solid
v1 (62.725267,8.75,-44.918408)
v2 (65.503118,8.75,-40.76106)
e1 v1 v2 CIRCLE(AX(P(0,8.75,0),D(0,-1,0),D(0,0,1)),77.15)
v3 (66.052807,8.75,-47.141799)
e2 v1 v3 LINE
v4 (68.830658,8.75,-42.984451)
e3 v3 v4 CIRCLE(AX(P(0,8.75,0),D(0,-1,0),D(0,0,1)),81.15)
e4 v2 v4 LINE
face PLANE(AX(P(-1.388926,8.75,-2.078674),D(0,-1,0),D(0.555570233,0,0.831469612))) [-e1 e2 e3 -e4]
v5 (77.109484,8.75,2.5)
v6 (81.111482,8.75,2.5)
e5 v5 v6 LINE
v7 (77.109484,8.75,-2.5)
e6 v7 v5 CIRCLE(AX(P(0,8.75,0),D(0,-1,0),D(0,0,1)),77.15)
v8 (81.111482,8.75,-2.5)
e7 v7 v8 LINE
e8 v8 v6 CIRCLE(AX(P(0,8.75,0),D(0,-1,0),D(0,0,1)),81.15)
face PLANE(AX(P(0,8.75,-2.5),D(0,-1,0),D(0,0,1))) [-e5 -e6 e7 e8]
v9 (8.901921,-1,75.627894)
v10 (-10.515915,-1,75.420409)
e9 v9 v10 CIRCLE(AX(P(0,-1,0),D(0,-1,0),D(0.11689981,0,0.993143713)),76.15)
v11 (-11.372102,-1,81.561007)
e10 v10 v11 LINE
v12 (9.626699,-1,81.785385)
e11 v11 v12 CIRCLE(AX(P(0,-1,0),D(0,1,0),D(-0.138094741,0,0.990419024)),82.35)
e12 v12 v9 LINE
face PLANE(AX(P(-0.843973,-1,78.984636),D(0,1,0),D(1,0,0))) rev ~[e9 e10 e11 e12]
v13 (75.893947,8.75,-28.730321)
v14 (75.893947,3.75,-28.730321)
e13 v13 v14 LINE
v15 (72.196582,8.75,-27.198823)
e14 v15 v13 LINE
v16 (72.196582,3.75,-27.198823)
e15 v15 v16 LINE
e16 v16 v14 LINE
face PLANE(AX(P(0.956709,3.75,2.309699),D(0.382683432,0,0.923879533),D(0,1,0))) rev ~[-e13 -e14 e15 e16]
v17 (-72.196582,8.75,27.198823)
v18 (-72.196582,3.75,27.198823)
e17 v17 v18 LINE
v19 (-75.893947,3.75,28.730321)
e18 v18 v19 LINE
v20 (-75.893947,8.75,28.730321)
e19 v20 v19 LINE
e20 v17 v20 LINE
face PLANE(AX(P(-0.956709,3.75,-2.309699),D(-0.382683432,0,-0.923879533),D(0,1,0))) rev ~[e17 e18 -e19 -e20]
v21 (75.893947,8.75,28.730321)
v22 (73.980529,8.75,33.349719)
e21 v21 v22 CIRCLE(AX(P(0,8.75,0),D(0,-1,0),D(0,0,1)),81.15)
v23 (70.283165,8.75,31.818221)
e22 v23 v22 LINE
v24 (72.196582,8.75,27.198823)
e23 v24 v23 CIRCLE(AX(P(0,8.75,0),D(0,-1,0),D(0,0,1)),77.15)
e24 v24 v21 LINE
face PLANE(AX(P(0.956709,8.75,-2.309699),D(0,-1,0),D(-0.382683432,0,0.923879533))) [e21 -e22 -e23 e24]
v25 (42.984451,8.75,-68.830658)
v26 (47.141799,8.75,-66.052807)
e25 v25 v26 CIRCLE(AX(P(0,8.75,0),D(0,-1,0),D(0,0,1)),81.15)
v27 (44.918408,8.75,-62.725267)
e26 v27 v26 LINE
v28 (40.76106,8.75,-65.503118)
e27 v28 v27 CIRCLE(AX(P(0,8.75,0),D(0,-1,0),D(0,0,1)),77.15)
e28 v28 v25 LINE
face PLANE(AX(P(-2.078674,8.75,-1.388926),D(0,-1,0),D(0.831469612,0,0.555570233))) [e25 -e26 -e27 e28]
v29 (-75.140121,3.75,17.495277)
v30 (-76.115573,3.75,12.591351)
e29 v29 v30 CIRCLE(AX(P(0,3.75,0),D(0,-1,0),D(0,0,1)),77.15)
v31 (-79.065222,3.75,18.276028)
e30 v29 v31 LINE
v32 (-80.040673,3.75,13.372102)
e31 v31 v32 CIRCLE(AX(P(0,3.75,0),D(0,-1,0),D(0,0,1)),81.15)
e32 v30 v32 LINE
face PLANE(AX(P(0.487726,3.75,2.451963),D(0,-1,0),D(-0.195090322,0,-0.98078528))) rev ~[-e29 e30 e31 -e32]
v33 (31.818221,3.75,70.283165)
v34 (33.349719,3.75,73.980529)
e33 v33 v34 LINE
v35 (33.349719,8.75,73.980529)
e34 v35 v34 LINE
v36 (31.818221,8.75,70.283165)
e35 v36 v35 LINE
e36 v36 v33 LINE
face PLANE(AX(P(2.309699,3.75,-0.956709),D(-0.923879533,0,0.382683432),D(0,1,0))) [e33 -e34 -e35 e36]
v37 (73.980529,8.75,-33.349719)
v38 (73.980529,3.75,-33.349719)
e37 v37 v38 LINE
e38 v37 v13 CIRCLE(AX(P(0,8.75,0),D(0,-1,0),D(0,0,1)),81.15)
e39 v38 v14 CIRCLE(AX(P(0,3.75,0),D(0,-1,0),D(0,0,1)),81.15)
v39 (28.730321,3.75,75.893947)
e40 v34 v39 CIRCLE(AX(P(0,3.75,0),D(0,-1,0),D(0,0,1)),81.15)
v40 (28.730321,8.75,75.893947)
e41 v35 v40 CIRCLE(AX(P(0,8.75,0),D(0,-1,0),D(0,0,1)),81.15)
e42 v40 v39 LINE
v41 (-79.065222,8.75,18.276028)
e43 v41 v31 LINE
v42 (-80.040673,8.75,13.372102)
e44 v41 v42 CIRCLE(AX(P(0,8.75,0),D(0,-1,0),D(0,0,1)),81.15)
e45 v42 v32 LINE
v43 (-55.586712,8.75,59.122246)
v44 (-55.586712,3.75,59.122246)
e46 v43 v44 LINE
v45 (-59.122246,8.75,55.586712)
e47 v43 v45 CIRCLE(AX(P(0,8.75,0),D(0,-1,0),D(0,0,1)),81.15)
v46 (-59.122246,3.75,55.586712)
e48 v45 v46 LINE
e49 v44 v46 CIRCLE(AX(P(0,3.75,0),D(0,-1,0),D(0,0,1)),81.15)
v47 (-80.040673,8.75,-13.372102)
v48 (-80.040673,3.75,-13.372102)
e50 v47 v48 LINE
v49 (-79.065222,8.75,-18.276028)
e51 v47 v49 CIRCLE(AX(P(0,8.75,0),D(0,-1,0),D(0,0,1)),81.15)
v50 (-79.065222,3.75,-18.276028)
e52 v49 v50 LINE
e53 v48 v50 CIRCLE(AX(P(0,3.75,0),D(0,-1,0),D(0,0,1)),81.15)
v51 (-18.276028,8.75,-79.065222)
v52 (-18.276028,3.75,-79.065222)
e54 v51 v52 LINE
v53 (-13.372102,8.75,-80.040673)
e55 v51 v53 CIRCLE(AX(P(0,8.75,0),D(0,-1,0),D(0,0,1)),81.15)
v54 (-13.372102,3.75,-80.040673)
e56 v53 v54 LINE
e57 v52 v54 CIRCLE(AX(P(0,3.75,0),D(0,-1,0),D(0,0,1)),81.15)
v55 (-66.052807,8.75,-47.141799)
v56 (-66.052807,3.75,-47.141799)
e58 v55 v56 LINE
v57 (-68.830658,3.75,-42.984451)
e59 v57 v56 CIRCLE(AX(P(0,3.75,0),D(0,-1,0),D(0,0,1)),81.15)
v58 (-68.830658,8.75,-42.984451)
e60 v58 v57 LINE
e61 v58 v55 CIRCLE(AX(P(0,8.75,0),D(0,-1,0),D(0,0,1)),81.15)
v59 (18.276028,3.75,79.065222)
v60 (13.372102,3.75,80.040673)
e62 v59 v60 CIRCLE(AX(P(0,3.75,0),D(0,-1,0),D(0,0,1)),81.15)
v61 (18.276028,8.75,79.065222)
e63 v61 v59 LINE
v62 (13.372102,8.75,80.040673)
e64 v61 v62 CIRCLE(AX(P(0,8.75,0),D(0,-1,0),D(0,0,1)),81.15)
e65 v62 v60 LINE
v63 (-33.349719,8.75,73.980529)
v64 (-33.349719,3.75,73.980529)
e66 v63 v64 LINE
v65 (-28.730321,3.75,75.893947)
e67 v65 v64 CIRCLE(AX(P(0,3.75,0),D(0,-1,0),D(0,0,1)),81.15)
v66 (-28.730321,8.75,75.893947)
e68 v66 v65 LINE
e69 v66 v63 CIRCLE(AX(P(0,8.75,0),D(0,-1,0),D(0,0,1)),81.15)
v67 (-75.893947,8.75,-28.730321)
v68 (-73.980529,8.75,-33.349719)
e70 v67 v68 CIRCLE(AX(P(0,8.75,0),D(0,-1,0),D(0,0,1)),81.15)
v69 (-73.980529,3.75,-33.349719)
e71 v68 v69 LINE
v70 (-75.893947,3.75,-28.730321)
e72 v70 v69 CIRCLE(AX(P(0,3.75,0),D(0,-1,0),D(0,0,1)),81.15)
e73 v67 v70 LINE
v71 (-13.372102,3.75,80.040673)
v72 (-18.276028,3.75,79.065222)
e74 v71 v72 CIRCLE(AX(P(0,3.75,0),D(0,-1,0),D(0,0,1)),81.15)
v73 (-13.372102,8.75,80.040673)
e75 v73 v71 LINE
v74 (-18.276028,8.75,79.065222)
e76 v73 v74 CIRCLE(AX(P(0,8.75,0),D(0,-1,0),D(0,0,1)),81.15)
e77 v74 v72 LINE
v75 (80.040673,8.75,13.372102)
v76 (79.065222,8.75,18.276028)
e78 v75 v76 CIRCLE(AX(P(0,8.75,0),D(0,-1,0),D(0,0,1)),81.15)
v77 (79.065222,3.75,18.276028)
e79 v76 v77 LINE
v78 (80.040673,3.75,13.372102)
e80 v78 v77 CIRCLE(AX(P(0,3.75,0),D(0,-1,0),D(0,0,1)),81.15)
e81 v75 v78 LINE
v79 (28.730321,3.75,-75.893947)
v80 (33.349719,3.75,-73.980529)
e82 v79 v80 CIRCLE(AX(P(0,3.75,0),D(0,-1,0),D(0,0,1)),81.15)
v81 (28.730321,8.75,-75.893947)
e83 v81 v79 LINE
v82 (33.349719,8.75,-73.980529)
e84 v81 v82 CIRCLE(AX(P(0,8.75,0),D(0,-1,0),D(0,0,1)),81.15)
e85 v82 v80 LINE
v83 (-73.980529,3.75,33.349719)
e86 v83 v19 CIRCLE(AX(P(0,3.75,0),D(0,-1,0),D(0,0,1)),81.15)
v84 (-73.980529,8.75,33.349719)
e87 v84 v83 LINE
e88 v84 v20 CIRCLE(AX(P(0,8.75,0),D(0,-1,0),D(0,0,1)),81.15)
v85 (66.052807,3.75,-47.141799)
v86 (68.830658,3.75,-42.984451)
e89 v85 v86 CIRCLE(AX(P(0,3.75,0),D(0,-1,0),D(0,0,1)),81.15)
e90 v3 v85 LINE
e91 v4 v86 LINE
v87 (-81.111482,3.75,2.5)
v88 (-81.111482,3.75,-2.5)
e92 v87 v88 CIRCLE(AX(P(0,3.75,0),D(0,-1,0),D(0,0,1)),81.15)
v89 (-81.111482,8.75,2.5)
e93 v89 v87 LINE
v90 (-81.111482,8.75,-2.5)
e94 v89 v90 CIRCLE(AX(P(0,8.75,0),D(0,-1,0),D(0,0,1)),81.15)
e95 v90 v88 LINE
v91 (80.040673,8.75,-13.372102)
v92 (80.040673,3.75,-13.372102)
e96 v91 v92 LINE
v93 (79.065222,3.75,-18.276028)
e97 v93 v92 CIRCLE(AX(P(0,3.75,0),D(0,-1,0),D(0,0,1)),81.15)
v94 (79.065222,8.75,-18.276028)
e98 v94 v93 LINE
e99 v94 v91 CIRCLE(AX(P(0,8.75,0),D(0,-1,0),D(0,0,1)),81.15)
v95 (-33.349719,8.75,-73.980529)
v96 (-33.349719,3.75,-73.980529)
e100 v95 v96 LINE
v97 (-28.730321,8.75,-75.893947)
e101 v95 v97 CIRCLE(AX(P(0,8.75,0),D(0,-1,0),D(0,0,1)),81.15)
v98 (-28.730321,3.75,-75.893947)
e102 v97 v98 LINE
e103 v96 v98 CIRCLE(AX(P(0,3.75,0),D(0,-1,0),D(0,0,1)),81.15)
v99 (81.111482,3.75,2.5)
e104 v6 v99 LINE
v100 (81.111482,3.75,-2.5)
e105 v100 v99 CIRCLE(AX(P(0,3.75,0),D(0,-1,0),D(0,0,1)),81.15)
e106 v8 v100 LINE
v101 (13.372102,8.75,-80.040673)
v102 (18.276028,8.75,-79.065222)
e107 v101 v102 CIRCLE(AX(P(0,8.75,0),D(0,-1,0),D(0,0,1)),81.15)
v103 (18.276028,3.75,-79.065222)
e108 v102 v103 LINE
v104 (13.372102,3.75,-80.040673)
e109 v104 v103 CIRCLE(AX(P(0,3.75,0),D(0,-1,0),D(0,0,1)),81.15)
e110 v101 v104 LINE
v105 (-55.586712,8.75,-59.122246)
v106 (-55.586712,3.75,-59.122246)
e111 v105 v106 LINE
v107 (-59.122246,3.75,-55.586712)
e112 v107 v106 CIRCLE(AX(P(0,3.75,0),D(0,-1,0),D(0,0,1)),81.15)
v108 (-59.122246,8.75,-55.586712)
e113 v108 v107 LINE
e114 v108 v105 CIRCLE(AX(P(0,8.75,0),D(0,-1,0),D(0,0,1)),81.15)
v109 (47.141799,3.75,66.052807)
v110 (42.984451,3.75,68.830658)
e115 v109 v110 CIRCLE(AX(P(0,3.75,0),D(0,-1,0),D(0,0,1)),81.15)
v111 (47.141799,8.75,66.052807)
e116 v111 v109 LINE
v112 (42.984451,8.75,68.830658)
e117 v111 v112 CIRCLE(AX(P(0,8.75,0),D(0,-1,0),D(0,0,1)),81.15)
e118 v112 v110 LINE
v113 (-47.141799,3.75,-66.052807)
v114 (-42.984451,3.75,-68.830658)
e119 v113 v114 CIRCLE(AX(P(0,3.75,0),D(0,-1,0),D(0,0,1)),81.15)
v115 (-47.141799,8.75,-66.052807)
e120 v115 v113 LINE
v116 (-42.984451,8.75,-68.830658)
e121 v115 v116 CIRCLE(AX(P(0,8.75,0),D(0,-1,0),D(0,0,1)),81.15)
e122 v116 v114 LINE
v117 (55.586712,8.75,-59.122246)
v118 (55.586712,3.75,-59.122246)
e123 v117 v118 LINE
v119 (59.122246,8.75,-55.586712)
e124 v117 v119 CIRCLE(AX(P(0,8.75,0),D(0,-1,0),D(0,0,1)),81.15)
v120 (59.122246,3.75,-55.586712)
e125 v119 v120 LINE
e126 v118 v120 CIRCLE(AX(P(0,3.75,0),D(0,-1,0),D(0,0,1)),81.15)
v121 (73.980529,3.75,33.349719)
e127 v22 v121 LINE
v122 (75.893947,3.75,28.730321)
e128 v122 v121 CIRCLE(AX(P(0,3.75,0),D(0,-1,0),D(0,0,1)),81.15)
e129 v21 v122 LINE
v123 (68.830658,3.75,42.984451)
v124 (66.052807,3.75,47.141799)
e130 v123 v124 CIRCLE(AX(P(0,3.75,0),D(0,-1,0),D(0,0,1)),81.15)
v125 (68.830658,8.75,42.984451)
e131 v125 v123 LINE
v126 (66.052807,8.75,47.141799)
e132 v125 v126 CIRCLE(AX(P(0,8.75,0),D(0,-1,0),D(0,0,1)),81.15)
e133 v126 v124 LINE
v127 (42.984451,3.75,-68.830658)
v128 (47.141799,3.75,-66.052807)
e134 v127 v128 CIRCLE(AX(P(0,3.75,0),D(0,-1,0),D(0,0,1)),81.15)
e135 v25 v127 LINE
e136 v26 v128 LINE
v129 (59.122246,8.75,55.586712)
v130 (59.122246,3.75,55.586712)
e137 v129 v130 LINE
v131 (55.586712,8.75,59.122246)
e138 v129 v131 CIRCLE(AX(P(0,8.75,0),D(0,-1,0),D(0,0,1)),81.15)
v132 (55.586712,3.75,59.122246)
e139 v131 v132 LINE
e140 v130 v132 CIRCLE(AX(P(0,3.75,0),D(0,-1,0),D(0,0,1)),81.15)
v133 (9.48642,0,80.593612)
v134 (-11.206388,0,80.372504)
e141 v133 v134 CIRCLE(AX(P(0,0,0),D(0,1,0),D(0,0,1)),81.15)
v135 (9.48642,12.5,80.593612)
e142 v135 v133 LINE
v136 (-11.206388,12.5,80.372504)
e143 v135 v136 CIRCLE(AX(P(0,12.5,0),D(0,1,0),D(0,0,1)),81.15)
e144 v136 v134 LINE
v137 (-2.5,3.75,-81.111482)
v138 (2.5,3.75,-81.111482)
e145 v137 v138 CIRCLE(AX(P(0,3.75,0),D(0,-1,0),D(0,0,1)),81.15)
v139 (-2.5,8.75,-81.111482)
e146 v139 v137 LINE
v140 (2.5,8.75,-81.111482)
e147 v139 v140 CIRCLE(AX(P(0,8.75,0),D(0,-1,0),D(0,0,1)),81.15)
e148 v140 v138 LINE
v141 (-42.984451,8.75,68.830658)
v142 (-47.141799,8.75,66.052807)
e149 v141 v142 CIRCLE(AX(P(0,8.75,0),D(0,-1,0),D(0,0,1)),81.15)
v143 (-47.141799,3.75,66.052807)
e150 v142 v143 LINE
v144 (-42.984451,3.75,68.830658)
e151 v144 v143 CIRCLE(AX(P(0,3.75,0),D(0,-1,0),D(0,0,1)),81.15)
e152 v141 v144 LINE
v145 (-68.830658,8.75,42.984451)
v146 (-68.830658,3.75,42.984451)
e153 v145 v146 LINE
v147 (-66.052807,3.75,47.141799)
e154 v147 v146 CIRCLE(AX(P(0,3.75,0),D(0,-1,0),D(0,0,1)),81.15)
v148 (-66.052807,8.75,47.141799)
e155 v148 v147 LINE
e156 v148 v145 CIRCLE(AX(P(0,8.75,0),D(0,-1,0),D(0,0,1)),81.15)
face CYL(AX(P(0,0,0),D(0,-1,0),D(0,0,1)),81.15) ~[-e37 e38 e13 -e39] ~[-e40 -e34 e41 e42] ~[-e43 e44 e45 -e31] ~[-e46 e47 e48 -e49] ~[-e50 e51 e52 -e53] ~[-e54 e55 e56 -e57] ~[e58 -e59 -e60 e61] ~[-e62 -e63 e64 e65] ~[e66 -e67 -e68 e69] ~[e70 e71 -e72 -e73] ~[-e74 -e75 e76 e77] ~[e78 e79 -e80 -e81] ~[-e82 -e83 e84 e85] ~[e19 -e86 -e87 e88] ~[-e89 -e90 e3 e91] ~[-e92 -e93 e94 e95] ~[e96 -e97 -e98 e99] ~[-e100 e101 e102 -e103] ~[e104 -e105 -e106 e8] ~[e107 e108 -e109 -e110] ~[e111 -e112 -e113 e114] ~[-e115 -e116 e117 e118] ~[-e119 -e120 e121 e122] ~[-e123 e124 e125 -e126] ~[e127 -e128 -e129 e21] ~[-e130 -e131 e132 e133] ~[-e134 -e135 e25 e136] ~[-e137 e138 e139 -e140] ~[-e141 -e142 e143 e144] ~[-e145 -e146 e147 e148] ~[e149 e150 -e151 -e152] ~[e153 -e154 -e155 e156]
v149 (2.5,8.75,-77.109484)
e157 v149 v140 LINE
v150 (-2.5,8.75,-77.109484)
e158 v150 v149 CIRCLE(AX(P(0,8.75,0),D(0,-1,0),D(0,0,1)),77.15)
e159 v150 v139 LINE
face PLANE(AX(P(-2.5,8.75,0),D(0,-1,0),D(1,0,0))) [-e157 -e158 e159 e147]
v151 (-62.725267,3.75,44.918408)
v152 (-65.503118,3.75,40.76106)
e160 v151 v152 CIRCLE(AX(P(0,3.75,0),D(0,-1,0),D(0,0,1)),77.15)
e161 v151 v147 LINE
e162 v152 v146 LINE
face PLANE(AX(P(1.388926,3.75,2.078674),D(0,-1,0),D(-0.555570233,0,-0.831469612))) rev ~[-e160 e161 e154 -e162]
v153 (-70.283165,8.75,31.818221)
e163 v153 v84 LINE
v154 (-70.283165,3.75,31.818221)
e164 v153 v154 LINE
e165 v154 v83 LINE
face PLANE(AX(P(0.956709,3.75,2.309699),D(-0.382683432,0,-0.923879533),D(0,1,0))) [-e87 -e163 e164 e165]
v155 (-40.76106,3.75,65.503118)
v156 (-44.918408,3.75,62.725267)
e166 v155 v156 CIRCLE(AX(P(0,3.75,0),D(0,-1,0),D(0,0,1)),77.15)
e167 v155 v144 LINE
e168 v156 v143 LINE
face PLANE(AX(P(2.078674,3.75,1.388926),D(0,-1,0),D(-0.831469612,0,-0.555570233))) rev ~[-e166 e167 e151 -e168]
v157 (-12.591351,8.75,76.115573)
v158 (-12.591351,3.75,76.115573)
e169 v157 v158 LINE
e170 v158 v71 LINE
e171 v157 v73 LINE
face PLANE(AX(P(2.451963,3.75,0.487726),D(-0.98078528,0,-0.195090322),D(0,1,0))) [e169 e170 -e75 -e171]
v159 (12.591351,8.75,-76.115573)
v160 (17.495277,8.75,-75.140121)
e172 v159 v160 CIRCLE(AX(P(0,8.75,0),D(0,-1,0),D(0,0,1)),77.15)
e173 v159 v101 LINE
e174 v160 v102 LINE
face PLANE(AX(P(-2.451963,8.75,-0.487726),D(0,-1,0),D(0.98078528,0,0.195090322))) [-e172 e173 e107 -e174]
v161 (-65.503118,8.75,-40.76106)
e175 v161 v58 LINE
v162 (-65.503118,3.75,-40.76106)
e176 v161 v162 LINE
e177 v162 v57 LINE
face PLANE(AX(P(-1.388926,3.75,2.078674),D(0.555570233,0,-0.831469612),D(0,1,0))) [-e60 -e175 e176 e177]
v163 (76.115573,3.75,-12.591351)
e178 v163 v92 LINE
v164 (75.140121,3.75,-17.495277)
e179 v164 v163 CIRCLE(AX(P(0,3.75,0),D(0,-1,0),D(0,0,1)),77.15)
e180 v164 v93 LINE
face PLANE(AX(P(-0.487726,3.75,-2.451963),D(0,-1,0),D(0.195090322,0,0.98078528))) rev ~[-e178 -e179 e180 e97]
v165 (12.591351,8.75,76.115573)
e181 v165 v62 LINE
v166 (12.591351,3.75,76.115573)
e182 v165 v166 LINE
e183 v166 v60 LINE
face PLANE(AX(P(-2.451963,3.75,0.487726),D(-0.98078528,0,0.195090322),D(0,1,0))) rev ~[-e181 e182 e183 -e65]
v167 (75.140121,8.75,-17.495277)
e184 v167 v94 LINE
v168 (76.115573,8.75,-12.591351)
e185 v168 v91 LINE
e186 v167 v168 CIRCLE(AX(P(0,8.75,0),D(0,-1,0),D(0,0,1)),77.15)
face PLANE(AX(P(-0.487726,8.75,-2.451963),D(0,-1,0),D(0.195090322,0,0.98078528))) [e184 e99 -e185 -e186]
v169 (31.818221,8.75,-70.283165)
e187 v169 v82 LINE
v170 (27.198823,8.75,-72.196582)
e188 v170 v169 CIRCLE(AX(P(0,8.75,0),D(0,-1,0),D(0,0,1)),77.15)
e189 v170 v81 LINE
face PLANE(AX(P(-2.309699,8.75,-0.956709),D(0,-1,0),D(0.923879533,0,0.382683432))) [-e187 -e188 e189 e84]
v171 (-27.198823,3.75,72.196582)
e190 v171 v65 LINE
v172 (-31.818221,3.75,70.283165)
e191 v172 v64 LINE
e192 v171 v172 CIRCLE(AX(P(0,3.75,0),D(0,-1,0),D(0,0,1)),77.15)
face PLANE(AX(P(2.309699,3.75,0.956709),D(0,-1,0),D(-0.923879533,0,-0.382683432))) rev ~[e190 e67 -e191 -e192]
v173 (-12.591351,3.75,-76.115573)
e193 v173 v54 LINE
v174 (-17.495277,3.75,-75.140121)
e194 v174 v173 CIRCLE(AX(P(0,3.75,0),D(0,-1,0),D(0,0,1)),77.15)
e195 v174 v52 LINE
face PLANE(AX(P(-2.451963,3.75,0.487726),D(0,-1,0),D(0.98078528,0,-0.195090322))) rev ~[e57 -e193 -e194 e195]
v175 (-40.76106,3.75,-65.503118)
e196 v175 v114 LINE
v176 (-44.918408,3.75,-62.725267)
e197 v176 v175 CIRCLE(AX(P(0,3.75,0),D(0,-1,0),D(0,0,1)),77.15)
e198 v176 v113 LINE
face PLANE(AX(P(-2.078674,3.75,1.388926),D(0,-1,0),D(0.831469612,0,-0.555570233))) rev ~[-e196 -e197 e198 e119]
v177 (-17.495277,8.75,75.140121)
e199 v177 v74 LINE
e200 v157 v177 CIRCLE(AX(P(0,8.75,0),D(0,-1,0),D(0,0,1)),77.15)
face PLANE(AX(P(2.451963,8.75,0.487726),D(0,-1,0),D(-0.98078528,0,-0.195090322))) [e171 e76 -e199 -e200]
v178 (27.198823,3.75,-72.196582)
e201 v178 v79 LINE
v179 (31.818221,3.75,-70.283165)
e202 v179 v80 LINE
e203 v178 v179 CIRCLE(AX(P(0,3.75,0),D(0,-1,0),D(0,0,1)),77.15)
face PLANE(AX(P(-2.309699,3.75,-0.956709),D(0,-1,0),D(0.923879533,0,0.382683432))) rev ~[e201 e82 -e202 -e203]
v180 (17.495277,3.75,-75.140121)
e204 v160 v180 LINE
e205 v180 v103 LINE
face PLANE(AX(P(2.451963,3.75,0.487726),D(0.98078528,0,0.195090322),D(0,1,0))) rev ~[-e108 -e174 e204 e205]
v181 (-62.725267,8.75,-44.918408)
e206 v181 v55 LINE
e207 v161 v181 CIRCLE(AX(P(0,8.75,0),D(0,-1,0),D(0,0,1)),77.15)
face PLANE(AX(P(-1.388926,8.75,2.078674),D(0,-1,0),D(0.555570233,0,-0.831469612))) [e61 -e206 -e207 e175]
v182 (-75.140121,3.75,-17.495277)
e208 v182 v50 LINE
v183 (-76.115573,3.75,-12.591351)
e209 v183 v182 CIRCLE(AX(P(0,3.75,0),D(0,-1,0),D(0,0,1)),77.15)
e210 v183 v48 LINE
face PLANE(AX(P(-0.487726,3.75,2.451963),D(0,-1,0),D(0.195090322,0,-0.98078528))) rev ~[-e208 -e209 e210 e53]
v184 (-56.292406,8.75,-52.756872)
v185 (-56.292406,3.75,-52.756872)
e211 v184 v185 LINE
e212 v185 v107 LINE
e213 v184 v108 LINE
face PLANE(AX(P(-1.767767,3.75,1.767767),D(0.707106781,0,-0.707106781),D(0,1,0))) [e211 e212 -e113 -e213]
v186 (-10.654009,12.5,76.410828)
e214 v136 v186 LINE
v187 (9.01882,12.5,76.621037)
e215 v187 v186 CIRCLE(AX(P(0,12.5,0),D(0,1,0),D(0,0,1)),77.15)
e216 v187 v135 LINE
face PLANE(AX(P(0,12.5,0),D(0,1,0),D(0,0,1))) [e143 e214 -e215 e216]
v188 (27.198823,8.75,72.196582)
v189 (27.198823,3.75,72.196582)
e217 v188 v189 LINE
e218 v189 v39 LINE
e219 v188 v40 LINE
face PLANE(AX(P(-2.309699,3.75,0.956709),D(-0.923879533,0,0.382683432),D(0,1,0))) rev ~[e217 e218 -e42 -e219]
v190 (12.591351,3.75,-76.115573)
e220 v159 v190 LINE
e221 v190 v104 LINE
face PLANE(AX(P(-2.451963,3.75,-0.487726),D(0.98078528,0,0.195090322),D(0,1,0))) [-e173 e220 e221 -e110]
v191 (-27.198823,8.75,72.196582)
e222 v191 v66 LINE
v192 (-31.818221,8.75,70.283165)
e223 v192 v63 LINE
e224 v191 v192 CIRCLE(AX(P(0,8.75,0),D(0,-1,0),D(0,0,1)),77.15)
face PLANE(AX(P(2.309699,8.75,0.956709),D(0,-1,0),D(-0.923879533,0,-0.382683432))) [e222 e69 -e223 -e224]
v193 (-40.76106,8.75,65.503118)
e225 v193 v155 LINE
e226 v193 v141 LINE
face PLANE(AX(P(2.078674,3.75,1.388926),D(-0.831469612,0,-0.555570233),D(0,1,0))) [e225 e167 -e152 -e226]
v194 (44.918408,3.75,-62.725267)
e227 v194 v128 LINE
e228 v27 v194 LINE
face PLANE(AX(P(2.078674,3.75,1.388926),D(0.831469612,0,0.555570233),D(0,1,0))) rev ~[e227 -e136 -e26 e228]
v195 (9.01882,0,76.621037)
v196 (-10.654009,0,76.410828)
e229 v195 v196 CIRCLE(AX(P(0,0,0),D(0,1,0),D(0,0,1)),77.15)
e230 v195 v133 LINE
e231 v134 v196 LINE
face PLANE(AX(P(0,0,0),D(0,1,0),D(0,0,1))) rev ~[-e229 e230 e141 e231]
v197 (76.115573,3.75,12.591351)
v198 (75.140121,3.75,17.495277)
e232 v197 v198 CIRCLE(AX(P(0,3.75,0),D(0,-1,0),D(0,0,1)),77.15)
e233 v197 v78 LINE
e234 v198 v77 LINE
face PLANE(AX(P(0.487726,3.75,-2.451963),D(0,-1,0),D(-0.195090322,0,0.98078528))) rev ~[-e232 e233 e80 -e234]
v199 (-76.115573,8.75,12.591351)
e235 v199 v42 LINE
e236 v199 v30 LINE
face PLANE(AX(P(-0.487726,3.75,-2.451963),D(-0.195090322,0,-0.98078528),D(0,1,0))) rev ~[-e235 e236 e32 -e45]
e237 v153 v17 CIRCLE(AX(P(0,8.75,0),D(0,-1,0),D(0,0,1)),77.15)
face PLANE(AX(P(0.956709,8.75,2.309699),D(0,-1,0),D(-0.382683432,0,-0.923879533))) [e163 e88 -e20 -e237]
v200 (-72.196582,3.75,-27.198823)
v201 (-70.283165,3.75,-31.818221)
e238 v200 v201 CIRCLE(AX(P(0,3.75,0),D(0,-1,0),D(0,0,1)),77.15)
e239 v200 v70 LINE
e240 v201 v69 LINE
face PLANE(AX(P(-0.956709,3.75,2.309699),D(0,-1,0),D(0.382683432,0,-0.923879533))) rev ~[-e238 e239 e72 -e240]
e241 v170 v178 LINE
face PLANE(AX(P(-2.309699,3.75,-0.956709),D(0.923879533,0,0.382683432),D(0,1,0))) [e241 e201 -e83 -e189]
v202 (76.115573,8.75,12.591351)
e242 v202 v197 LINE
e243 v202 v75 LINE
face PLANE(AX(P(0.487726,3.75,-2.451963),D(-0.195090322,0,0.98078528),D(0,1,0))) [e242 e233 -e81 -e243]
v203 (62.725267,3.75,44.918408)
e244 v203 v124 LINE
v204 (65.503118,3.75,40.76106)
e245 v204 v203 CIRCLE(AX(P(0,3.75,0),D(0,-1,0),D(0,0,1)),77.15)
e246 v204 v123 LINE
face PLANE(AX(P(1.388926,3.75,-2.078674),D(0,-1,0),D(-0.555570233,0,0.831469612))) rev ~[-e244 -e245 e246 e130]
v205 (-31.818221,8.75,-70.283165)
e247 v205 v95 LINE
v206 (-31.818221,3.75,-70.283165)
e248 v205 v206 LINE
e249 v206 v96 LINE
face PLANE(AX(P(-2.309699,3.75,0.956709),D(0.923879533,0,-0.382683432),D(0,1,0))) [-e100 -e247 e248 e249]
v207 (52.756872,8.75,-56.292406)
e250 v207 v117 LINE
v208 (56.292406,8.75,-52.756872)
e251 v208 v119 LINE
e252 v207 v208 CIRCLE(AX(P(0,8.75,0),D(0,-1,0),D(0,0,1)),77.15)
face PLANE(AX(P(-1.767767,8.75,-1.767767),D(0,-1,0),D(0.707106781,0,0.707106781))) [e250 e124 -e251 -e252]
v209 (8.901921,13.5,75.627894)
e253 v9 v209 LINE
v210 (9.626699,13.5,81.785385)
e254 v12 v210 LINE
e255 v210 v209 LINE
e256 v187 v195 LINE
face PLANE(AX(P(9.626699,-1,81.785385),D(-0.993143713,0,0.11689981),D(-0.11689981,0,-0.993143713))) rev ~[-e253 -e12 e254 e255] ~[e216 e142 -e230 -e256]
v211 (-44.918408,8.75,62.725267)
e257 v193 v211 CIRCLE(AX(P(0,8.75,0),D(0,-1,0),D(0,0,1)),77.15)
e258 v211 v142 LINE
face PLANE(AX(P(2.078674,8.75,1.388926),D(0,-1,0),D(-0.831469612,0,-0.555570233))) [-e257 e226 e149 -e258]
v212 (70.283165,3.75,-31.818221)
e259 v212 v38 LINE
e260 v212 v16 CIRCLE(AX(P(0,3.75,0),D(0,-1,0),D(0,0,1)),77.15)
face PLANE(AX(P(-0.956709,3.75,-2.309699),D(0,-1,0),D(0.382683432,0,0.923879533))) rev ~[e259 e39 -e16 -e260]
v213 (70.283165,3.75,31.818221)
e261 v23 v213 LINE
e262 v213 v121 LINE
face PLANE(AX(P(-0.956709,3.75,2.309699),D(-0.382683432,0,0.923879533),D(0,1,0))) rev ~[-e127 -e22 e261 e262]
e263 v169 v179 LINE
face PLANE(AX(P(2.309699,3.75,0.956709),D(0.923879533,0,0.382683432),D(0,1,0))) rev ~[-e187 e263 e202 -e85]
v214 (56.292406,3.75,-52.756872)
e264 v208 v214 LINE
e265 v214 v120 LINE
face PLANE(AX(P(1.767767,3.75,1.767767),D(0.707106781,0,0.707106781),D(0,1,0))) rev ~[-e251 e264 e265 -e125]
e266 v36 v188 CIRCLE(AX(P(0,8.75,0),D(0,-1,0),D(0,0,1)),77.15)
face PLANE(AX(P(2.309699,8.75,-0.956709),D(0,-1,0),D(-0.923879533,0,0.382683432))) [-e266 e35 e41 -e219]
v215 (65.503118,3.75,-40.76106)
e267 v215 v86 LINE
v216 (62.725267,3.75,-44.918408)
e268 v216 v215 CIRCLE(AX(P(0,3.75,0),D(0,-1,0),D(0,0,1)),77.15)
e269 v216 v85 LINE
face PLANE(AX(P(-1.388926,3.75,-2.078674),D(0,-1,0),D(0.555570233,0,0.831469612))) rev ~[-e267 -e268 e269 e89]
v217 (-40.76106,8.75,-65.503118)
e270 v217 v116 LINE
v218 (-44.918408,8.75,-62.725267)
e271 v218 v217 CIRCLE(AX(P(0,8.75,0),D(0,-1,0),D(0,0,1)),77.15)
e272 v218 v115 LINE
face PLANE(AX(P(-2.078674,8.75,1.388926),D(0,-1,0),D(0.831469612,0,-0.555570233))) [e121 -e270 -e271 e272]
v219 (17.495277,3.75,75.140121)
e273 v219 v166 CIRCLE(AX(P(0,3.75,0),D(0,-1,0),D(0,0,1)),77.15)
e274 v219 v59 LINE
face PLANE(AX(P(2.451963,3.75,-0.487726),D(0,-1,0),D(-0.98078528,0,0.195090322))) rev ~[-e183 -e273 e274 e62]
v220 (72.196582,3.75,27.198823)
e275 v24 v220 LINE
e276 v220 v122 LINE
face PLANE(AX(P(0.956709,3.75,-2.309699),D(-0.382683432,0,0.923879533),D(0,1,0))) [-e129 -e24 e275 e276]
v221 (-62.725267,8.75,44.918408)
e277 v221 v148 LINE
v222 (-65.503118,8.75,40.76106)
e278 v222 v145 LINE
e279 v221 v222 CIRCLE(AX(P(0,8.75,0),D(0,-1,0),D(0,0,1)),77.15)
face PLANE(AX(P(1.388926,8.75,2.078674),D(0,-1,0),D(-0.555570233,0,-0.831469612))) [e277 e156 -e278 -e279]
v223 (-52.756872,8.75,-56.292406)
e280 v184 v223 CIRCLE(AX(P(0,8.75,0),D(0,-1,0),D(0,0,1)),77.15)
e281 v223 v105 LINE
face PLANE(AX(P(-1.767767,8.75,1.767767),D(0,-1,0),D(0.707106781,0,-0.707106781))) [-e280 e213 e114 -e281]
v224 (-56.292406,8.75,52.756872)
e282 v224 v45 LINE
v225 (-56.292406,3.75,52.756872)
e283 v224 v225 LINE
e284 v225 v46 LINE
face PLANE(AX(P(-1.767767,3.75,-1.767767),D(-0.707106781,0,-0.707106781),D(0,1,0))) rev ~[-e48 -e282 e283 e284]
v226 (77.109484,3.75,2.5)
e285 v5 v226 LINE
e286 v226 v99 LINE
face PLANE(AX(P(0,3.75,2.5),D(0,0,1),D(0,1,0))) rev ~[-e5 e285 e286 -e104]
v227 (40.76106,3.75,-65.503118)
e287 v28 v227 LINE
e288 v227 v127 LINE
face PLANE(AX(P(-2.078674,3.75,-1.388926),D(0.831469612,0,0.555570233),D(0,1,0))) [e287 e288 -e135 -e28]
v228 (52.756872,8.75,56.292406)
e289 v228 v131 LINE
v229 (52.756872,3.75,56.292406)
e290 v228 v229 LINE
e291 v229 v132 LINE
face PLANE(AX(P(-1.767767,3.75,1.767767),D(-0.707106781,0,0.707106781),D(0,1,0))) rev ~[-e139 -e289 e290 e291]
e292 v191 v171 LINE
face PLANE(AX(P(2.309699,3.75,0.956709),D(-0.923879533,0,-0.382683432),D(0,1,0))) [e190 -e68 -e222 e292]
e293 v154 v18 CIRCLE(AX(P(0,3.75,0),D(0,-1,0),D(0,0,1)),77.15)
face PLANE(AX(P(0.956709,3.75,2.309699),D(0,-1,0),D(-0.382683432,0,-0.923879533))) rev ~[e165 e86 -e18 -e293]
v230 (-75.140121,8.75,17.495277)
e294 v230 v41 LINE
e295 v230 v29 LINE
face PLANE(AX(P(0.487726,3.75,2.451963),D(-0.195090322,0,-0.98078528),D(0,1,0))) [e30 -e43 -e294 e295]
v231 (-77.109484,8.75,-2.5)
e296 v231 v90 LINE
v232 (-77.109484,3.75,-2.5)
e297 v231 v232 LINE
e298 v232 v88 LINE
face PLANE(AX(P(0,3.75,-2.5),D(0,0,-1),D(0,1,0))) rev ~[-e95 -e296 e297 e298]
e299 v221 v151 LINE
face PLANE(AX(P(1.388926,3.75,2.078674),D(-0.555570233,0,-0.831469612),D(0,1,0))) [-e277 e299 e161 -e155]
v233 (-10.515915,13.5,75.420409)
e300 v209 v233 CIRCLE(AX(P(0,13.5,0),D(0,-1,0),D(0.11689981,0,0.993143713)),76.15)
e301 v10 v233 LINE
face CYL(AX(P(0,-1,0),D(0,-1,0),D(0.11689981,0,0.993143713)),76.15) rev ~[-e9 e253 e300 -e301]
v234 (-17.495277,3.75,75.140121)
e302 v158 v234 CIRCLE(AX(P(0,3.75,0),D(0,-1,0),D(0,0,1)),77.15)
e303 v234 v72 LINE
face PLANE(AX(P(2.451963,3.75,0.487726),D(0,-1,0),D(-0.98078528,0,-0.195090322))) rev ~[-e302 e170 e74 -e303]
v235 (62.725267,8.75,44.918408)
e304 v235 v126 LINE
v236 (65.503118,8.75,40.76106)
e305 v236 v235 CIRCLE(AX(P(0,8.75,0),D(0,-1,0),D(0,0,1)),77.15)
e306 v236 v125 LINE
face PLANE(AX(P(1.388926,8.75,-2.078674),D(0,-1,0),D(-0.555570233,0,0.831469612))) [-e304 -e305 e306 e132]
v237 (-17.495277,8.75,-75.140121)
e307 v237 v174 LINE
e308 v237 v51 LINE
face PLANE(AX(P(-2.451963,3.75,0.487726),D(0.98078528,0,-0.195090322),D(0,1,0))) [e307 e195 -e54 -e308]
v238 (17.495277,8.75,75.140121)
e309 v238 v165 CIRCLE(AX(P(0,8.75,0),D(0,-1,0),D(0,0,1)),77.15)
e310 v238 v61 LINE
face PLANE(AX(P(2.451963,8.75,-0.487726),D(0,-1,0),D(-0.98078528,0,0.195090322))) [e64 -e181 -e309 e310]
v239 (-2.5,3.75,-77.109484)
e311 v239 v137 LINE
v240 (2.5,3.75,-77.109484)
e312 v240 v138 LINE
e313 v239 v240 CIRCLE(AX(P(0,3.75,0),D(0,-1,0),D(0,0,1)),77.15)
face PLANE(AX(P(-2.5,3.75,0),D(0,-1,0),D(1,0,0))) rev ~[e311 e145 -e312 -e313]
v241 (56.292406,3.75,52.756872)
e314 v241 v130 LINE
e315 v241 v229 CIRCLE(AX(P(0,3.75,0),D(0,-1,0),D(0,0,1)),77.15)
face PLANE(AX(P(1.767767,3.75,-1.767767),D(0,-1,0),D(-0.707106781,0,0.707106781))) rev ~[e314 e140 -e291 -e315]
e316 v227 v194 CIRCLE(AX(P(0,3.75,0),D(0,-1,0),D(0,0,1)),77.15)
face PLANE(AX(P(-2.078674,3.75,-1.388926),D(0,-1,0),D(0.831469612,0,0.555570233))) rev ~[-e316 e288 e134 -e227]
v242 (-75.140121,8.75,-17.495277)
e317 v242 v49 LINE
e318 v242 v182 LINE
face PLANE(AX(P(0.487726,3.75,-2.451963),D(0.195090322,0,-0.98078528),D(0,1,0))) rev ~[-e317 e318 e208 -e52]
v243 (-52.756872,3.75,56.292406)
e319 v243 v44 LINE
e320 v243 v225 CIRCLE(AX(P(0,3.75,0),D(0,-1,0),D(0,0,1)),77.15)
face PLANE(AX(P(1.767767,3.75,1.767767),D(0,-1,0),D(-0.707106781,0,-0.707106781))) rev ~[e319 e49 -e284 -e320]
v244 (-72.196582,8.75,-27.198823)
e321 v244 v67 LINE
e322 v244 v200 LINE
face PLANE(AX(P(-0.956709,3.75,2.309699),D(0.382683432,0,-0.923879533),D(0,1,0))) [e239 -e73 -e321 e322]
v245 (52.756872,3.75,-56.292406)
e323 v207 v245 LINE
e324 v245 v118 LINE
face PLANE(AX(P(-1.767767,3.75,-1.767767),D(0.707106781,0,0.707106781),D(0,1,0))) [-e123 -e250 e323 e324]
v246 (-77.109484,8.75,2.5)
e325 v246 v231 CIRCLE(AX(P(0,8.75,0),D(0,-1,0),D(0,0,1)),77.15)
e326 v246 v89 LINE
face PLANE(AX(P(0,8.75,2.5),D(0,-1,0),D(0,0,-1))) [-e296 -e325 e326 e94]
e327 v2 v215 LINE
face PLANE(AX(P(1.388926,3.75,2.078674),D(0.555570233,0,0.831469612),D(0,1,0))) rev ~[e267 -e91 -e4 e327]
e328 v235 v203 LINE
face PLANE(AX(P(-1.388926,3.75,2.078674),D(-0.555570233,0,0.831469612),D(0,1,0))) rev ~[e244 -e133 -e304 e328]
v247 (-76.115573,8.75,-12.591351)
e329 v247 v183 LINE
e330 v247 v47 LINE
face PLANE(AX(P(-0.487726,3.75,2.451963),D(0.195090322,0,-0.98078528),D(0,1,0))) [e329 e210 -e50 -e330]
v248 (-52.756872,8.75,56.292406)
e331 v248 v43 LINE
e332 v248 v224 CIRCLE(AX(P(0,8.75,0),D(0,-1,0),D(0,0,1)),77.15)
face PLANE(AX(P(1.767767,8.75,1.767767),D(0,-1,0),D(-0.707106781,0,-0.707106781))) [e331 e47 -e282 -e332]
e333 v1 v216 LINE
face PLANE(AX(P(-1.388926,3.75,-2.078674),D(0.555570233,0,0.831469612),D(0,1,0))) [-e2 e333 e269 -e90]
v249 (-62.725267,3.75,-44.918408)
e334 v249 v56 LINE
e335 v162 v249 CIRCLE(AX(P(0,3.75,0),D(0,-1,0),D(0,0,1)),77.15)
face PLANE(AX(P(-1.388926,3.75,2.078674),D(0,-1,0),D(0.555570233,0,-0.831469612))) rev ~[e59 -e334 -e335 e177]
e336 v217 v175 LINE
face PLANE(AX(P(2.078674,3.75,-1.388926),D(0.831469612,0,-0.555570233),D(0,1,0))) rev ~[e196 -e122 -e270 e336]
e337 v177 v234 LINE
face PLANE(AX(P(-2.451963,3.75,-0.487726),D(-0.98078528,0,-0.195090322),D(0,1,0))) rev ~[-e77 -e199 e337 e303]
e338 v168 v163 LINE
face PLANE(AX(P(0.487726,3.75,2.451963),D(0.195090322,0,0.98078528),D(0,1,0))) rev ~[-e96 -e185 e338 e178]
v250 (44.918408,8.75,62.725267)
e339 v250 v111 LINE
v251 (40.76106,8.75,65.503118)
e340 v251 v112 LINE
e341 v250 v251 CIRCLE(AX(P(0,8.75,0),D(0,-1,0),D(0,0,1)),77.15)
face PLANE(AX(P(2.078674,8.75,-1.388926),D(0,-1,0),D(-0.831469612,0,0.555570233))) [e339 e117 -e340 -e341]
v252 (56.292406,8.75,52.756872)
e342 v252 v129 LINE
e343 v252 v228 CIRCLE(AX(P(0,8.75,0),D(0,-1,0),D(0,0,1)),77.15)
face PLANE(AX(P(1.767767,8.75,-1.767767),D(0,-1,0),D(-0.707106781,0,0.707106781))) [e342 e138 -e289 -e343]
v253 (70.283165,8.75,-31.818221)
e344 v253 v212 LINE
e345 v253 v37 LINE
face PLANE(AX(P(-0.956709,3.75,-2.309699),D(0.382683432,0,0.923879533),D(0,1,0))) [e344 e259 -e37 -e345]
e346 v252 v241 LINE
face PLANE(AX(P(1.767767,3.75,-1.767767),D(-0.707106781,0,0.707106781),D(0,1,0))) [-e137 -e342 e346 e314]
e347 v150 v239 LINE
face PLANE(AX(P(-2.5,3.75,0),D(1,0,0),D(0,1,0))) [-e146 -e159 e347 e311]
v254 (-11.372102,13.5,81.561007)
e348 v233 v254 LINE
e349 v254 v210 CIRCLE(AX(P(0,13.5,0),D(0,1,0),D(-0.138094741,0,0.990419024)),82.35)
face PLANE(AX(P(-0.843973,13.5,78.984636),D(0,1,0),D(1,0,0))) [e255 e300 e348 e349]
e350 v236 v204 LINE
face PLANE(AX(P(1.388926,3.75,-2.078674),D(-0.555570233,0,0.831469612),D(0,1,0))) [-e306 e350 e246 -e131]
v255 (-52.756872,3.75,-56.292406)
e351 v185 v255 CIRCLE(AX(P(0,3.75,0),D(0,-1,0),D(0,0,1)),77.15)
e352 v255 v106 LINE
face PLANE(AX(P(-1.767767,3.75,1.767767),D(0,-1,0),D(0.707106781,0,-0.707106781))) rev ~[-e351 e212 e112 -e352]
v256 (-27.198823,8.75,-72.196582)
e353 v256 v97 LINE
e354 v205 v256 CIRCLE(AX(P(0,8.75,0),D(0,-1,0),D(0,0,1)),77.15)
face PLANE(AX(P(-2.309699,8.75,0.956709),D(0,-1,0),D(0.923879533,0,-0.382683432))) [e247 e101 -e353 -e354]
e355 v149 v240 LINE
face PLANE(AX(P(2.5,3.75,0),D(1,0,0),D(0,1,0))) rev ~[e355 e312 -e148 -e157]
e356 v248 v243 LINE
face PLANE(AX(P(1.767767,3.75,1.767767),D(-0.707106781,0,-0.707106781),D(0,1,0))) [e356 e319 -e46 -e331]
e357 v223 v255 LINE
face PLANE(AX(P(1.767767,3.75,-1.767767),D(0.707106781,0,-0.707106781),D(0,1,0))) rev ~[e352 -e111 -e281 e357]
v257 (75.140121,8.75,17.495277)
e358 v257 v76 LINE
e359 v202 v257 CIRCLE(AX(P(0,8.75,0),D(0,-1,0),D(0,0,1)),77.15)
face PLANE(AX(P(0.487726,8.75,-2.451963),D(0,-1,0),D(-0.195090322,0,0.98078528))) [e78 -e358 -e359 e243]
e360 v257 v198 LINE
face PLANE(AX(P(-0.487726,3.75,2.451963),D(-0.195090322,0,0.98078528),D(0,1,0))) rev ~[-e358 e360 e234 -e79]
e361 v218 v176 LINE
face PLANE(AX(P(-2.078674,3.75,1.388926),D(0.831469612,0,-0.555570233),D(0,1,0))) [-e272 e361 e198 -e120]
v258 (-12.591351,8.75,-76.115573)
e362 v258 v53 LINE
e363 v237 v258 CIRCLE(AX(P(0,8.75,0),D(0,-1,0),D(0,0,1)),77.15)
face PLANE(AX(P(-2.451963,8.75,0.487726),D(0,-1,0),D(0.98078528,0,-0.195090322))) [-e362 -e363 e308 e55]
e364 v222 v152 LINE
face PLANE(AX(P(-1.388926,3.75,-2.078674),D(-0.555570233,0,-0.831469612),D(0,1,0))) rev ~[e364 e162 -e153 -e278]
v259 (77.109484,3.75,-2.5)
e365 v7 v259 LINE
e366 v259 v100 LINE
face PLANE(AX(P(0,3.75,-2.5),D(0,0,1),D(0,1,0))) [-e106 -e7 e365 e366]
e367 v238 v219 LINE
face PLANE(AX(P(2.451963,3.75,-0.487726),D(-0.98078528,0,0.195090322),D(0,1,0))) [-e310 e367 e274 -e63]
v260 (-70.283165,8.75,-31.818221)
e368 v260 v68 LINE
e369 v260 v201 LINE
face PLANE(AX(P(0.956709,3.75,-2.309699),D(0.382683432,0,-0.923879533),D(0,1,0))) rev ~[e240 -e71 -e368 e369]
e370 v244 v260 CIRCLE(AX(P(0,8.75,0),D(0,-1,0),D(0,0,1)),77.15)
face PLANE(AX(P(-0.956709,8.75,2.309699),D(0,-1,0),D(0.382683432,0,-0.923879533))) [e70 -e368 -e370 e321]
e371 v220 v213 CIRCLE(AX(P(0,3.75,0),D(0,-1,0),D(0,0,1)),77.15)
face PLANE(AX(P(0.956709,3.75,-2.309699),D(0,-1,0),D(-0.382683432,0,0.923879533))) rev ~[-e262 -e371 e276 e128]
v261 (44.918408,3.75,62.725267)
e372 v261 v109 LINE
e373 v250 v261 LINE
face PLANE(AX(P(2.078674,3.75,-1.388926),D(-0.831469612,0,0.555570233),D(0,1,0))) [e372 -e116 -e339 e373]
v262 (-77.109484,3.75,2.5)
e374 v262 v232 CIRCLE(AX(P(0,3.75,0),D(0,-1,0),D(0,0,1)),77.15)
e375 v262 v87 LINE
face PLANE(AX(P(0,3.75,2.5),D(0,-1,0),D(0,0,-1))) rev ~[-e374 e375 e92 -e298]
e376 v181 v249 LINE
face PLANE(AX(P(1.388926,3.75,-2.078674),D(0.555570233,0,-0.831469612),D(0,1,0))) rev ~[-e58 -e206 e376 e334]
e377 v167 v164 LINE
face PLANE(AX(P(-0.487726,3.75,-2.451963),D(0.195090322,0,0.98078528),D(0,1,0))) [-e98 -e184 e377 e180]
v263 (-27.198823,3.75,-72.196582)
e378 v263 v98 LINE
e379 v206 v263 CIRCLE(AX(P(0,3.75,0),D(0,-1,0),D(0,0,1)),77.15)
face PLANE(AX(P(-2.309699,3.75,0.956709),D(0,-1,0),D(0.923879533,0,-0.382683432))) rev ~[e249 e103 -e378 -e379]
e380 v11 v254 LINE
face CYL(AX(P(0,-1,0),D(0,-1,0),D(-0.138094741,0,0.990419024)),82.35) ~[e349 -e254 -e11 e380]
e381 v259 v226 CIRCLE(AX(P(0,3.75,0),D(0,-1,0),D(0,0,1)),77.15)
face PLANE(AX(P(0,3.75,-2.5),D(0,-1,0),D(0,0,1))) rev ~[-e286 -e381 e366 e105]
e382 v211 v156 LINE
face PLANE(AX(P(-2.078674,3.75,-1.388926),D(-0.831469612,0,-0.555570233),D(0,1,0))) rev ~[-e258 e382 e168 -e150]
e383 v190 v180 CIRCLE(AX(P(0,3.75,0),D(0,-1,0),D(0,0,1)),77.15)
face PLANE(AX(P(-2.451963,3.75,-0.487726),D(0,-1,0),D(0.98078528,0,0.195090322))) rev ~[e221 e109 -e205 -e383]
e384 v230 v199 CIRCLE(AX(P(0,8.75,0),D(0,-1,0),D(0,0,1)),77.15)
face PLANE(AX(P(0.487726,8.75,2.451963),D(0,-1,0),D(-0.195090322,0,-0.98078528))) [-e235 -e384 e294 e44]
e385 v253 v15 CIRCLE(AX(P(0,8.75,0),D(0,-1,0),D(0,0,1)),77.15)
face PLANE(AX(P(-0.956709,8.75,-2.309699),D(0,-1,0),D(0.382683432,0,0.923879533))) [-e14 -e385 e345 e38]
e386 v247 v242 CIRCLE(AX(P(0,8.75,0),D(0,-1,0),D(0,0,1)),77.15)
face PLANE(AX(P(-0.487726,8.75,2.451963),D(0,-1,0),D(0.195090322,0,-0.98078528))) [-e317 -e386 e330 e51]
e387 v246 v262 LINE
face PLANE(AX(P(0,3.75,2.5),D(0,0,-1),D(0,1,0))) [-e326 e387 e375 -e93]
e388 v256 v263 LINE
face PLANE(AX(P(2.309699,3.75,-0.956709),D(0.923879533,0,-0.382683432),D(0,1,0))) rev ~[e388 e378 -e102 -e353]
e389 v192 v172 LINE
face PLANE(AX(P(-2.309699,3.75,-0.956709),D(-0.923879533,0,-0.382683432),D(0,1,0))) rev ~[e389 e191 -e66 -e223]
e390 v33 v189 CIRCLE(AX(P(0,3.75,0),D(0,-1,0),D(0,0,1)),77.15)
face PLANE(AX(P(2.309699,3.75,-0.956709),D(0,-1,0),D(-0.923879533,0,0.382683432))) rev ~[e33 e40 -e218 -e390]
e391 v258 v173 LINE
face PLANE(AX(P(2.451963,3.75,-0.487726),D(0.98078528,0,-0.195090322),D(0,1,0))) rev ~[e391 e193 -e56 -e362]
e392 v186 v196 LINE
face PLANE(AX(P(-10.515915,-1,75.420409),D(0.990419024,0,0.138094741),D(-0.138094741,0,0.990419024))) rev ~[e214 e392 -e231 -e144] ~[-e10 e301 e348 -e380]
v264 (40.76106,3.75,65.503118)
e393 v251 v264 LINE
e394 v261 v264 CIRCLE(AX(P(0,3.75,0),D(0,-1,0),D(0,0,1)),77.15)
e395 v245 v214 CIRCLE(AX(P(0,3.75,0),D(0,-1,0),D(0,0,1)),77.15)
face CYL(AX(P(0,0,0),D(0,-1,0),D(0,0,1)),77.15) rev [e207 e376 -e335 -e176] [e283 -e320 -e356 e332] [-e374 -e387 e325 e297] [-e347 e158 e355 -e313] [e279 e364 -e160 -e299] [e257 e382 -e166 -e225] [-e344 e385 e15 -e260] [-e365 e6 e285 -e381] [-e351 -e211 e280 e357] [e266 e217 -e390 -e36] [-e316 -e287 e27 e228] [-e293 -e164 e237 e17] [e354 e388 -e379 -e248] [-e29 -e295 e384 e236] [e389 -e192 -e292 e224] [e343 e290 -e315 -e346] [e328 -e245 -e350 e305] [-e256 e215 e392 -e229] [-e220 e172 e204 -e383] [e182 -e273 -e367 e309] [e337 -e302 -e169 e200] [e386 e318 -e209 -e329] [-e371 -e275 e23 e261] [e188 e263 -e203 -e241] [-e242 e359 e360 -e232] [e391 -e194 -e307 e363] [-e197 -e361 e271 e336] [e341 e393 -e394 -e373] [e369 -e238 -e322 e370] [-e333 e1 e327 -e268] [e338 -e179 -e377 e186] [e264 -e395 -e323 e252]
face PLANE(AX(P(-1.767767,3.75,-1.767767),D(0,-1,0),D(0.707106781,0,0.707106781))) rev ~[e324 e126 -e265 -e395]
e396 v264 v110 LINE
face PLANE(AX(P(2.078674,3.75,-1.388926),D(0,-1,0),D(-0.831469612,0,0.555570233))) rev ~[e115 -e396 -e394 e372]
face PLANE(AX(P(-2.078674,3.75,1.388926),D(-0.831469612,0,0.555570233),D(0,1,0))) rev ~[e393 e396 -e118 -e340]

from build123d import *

# Parameters (mm, degrees)
SKETCH1_R                       = 81.15
SKETCH1_R_2                     = 77.15
BOSS_EXTRUDE1_DEPTH             = 12.5
SKETCH2_W                       = 5
SKETCH2_H                       = 5
CUT_EXTRUDE2_DEPTH              = 116.44217167
CIRPATTERN1_COUNT               = 16
CIRPATTERN1_ANGLE               = 168.75
CIRPATTERN1_THE_OTHER_WAY_COUNT = 16
CIRPATTERN1_THE_OTHER_WAY_ANGLE = 168.75
BOSS_EXTRUDE2_DEPTH             = 1
BOSS_EXTRUDE2_DEPTH_BACK        = 13.5


with BuildPart() as part:
    # Sketch1 → Boss-Extrude1 (new body)
    with BuildSketch(Plane(origin=(0, 0, 0), x_dir=(1, 0, 0), z_dir=(0, 1, 0))):
        with Locations(Location((0, 0, 0), (0, 0, 270))):
            Circle(SKETCH1_R)
        with Locations(Location((0, 0, 0), (0, 0, 270))):
            Circle(SKETCH1_R_2, mode=Mode.SUBTRACT)
    extrude(amount=BOSS_EXTRUDE1_DEPTH)

    # Sketch2 → Cut-Extrude2 (cut, through all)
    with BuildSketch(Plane.XY):
        with Locations((0, 6.25)):
            Rectangle(SKETCH2_W, SKETCH2_H)
    cut_extrude2 = extrude(amount=-CUT_EXTRUDE2_DEPTH, mode=Mode.SUBTRACT)

    # CirPattern1: Cut-Extrude2 ×16 about axis
    cirpattern1_axis = Axis((0, 0, 0), (0, 1, 0))
    for i in range(1, CIRPATTERN1_COUNT):
        add(cut_extrude2.rotate(cirpattern1_axis, i * CIRPATTERN1_ANGLE / (CIRPATTERN1_COUNT - 1)), mode=Mode.SUBTRACT)

    # CirPattern1 the other way: Cut-Extrude2 ×16 about axis
    cirpattern1_the_other_way_axis = Axis((0, 0, 0), (0, -1, 0))
    for i in range(1, CIRPATTERN1_THE_OTHER_WAY_COUNT):
        add(cut_extrude2.rotate(cirpattern1_the_other_way_axis, i * CIRPATTERN1_THE_OTHER_WAY_ANGLE / (CIRPATTERN1_THE_OTHER_WAY_COUNT - 1)), mode=Mode.SUBTRACT)

    # Sketch3 → Boss-Extrude2 (add, two sides: drawn at the far end of the back side and taken through both)
    with BuildSketch(Plane(origin=(0, 12.5, 0), x_dir=(1, 0, 0), z_dir=(0, 1, 0)).offset(-BOSS_EXTRUDE2_DEPTH_BACK)):
        with BuildLine():
            Line((-10.515914532, -75.420408654), (-11.372101927, -81.561006601))
            ThreePointArc((-11.372101927, -81.561006601), (-0.879882913, -82.345299235), (9.626699335, -81.785384757))
            Line((9.626699335, -81.785384757), (8.901920515, -75.627893737))
            ThreePointArc((8.901920515, -75.627893737), (-0.813637934, -76.145653148), (-10.515914532, -75.420408654))
        make_face()
    extrude(amount=BOSS_EXTRUDE2_DEPTH + BOSS_EXTRUDE2_DEPTH_BACK)


solid = part.part
